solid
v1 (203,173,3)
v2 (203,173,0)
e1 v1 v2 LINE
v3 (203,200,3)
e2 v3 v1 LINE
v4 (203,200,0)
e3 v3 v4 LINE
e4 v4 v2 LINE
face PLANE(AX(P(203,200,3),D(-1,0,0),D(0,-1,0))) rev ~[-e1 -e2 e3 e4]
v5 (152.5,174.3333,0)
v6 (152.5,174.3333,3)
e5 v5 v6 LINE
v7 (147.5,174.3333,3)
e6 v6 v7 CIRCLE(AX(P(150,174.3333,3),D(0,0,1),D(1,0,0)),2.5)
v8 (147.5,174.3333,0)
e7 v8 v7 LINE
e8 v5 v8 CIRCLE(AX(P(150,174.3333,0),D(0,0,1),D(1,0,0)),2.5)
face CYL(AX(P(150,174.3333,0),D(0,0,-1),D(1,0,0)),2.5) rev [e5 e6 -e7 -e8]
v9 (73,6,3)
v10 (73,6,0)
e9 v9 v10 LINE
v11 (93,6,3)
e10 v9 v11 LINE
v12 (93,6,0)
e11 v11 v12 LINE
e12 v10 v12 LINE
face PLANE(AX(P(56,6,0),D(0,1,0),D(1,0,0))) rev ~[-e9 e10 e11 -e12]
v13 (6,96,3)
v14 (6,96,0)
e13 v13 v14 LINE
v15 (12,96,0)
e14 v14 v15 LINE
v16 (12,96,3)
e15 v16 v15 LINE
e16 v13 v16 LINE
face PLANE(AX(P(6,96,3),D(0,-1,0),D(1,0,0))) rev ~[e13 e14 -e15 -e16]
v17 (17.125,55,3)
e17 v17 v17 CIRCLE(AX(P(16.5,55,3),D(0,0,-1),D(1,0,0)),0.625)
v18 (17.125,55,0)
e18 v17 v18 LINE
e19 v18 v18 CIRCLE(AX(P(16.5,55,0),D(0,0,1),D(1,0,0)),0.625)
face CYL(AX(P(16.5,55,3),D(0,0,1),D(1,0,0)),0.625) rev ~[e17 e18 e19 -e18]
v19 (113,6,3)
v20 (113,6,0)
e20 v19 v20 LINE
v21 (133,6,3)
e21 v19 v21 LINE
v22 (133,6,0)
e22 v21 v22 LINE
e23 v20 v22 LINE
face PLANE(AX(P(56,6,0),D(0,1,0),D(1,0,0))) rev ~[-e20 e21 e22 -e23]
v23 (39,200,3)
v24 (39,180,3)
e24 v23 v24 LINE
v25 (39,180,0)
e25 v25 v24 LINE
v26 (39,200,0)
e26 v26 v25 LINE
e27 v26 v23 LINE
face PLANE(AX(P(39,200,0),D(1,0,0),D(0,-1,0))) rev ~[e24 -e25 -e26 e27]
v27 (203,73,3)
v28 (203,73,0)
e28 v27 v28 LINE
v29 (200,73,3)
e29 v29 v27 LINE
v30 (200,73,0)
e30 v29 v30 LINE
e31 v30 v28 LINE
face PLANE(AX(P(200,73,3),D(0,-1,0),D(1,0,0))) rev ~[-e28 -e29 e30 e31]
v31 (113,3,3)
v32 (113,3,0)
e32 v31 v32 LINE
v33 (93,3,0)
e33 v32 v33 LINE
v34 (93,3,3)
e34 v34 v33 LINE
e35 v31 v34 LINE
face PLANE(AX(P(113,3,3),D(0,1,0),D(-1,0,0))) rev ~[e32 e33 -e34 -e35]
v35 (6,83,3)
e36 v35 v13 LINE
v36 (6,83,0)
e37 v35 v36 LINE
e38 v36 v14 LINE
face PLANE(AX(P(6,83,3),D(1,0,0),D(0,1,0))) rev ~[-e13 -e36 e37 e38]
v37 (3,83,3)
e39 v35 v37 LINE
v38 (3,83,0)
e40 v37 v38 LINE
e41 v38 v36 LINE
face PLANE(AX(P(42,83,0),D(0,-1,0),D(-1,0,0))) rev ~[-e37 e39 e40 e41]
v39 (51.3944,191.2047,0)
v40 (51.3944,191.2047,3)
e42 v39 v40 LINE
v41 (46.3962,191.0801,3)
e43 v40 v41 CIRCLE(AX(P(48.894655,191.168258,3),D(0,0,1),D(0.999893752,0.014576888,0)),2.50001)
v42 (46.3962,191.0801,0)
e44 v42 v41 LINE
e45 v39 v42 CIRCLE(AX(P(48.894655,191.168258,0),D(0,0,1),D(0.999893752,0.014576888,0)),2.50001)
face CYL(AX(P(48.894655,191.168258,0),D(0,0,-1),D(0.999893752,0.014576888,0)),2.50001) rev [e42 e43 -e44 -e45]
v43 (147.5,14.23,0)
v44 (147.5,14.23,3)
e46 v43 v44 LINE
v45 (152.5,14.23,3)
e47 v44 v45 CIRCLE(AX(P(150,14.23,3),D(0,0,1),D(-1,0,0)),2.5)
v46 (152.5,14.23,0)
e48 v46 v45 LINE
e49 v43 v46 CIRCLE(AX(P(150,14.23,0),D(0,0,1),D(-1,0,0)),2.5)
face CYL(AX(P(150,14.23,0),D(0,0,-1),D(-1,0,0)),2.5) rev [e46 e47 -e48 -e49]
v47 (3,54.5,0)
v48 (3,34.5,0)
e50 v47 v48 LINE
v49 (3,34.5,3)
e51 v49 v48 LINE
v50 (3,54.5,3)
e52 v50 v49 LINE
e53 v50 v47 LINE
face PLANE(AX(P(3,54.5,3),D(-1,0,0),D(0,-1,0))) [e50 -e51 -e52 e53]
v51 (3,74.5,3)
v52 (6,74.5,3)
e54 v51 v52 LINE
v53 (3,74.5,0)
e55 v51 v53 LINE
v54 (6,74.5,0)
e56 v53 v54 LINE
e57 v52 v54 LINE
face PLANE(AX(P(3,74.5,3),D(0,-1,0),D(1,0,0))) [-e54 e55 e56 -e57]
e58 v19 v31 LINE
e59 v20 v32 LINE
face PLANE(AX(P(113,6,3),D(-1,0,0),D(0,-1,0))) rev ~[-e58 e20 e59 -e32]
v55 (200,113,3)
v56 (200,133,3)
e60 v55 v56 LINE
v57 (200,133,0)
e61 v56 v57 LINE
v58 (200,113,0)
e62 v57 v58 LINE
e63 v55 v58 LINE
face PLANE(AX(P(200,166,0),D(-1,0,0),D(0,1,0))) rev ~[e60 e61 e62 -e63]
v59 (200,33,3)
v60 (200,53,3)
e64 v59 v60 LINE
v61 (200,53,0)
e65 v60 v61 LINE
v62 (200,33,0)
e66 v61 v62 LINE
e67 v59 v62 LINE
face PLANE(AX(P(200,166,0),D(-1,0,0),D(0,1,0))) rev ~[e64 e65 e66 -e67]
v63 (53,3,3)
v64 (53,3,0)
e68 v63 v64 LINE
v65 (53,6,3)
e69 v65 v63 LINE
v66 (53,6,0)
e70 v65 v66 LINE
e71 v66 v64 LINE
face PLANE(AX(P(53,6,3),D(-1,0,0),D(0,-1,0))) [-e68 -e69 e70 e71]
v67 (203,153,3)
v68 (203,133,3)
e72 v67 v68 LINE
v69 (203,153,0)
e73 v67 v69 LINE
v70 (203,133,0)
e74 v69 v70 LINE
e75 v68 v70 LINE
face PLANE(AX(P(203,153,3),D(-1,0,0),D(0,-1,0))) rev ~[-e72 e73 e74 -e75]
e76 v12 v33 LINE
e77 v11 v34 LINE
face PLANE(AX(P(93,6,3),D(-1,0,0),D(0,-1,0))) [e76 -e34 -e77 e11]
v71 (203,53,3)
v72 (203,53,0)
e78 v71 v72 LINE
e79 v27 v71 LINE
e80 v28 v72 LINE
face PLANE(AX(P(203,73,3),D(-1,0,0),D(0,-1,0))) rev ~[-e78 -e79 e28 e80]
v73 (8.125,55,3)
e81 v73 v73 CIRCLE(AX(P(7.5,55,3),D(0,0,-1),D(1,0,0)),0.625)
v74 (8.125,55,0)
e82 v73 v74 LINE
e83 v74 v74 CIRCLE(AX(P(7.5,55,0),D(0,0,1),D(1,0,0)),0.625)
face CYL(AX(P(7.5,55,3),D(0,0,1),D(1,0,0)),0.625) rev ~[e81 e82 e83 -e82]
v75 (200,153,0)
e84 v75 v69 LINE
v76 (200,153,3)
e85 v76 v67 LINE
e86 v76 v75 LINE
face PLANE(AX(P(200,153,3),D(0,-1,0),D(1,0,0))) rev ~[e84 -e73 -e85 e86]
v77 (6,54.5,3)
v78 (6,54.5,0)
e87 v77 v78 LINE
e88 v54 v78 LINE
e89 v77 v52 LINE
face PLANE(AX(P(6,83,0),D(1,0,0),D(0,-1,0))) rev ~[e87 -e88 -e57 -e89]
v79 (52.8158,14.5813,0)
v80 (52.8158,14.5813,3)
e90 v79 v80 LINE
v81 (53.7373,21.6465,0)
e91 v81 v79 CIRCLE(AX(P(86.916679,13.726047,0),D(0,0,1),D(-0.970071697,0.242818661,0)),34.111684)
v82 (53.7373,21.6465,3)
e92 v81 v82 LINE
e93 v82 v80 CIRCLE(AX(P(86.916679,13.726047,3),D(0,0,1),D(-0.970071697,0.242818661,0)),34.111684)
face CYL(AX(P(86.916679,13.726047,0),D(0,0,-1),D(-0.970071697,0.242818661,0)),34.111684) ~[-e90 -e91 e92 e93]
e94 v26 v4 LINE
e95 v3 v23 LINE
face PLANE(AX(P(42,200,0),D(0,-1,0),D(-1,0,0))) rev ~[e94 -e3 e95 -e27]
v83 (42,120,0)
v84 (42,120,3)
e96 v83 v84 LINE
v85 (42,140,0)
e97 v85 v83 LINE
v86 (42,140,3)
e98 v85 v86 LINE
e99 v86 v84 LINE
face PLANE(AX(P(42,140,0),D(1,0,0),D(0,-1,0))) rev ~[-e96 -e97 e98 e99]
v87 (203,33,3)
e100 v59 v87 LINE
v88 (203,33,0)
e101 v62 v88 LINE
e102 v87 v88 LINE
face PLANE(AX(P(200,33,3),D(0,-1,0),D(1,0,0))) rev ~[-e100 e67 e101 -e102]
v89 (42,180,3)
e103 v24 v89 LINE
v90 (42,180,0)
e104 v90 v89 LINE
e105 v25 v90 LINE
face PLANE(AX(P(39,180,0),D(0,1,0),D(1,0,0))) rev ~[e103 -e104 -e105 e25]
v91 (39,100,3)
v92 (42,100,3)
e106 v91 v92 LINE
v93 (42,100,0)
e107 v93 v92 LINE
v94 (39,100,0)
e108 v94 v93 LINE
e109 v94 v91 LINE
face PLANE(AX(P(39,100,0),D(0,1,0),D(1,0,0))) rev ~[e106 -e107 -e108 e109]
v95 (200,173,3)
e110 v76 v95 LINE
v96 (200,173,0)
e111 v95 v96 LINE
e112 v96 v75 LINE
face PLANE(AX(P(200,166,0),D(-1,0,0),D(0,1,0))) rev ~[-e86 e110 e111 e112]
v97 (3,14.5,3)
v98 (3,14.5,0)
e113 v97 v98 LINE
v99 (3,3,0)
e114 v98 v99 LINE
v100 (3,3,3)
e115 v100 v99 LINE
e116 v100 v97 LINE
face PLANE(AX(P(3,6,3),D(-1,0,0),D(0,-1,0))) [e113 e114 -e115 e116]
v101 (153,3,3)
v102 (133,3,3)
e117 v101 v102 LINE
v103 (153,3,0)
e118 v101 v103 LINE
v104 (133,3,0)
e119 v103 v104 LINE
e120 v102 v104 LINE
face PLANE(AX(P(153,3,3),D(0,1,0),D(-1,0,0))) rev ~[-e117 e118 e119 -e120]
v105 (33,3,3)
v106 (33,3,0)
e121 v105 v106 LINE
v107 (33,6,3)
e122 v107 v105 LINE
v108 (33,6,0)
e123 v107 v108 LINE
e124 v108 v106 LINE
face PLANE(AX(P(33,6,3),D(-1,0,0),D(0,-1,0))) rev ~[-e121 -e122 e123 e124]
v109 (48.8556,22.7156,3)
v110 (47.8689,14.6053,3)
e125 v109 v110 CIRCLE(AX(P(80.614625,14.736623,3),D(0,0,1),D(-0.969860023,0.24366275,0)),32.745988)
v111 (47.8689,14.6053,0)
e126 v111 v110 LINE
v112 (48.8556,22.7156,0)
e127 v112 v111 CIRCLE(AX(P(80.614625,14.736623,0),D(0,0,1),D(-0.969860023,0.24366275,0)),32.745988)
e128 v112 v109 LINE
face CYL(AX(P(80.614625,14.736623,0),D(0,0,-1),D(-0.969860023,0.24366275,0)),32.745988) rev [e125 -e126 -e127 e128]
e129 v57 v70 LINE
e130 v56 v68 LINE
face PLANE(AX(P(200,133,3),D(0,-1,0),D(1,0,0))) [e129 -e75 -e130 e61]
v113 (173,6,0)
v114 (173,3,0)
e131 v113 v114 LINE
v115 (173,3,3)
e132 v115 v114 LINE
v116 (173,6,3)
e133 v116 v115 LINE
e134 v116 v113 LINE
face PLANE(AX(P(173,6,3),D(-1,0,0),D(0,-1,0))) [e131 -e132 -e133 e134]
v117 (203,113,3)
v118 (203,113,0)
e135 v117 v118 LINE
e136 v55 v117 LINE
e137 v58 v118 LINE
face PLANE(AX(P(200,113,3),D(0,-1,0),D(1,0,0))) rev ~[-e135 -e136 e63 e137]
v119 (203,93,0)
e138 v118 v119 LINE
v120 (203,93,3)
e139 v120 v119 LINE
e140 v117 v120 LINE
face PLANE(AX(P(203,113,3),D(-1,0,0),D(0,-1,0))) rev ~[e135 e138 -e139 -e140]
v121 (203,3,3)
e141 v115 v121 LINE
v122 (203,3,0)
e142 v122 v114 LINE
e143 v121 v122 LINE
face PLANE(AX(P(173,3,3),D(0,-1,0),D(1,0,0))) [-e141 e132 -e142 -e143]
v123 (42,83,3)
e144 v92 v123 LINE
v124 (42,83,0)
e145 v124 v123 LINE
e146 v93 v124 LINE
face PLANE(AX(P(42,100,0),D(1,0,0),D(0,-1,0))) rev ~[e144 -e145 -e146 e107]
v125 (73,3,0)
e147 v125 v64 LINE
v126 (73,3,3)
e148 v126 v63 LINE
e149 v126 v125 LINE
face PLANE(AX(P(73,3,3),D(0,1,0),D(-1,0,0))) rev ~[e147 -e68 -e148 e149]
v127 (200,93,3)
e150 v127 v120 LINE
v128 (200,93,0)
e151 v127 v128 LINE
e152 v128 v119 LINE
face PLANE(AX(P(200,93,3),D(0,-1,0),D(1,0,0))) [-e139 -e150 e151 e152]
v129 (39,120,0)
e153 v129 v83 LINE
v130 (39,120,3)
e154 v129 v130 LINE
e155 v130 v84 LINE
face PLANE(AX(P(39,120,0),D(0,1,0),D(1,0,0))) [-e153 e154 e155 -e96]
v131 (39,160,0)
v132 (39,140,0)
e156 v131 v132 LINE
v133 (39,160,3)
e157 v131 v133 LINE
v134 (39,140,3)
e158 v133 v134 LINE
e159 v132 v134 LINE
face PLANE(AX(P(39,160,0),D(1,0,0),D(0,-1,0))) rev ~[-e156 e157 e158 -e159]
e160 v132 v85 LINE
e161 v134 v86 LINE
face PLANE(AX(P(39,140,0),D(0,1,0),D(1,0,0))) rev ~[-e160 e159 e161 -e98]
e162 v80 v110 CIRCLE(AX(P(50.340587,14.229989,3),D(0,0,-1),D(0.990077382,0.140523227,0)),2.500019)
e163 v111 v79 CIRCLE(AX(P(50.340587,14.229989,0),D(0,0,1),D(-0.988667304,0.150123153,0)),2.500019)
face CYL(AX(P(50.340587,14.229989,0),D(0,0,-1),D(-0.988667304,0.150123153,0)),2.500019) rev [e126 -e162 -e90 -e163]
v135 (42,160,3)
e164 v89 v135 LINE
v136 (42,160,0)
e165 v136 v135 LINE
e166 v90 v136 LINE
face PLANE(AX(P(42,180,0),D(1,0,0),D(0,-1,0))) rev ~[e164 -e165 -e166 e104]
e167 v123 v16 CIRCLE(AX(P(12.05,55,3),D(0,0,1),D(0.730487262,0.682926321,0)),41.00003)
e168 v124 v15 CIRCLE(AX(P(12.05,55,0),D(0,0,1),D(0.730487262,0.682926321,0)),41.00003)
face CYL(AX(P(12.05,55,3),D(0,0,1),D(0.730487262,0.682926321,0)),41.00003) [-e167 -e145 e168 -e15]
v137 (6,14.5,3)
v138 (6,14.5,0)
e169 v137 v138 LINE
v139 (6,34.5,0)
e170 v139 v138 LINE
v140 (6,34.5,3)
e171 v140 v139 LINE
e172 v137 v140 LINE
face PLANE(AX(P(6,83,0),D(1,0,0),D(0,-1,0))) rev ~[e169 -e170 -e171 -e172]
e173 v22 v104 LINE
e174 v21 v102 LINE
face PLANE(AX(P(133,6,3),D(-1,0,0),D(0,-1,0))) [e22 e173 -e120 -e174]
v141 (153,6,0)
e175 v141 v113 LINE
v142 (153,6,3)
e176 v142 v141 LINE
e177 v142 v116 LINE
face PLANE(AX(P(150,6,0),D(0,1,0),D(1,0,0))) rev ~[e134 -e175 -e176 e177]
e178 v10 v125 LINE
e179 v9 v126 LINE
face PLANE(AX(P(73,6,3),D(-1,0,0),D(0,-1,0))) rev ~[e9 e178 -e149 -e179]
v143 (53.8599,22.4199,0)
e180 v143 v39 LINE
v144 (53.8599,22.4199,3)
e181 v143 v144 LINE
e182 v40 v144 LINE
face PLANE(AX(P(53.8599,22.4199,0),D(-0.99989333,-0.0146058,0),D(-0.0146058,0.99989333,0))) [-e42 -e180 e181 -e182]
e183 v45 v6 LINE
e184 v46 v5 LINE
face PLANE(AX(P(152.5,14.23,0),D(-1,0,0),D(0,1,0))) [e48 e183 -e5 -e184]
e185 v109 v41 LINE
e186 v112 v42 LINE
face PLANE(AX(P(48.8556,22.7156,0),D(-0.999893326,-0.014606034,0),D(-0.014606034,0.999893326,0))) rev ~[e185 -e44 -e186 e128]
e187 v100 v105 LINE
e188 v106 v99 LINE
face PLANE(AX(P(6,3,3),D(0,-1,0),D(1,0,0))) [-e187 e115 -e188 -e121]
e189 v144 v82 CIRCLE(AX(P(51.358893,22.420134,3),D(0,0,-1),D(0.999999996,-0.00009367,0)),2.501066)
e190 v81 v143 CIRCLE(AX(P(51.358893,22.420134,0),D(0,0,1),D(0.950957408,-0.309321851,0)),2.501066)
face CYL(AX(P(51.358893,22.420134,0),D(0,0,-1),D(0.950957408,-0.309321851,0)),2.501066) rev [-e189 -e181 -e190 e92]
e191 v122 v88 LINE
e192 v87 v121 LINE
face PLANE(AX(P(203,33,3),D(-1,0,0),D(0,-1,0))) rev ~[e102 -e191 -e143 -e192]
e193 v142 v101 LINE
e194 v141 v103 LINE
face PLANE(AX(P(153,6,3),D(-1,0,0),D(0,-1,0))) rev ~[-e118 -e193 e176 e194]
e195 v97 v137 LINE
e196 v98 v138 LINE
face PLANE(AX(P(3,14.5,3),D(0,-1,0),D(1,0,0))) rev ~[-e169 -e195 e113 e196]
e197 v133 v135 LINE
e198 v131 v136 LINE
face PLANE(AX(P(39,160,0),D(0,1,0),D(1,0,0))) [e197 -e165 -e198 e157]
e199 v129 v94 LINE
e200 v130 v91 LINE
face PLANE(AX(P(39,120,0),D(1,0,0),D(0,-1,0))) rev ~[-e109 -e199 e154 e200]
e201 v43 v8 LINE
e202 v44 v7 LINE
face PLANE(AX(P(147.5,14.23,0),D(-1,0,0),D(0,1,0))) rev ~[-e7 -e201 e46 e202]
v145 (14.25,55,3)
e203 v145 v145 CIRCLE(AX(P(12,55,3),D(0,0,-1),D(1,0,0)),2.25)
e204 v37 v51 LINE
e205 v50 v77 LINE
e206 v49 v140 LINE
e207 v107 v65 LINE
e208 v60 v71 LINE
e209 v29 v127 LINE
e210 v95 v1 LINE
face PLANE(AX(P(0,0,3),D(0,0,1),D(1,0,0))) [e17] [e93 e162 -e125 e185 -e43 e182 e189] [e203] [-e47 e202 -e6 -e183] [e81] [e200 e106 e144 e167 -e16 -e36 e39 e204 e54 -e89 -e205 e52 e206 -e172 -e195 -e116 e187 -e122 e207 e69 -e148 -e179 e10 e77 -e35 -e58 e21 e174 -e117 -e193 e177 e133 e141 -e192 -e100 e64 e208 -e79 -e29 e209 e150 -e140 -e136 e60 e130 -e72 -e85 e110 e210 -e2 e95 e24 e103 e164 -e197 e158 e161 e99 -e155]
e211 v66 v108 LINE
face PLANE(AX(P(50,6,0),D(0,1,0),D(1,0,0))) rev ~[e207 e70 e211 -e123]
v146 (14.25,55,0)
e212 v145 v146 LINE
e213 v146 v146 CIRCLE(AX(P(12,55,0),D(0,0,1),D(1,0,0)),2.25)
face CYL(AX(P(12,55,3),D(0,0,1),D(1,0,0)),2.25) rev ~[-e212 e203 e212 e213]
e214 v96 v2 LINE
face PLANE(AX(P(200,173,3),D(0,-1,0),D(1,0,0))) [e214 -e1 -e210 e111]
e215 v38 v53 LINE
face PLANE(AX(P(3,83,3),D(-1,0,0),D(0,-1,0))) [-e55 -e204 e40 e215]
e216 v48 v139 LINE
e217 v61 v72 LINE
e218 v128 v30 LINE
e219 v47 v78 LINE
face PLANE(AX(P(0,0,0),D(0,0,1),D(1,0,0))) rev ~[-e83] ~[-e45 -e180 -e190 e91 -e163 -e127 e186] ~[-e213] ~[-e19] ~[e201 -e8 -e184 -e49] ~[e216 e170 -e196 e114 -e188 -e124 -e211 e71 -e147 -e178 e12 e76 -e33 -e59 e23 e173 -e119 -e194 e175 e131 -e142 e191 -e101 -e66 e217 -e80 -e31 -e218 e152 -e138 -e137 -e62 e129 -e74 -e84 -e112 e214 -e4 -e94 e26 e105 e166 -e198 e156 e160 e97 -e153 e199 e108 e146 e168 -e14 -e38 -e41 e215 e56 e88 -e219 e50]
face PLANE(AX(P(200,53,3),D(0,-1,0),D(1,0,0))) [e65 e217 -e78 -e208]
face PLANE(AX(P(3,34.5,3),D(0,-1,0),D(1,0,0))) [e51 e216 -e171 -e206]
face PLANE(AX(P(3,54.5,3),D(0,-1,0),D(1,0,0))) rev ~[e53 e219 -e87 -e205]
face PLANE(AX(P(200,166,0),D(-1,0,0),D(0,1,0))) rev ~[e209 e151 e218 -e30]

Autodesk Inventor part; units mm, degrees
ref_plane "YZ Plane" through (0, 0, 0) normal (1, 0, 0) x (0, 1, 0)
ref_plane "XZ Plane" through (0, 0, 0) normal (0, 1, 0) x (-1, 0, 0)
ref_plane "XY Plane" through (0, 0, 0) normal (0, 0, 1) x (1, 0, 0)
sketch "Sketch1" plane through (0, 0, 0) normal (0, 0, 1) x (1, 0, 0)
  line L0 (6, 6) -> (200, 6)
  line L1 (200, 6) -> (200, 200)
  line L2 (200, 200) -> (42, 200)
  line L3 (6, 83) -> (6, 6)
  line L4 (6, 6) -> (56, 6)
  line L5 (200, 6) -> (150, 6)
  line L6 (200, 6) -> (200, 153)
  line L7 (150, 6) -> (142.5, 6)
  line L8 (200, 6) -> (200, 166)
  arc A0 (152.5, 174.3333) -> (147.5, 174.3333) centre (150, 174.3333) ccw
  line L9 (150, 6) -> (50, 6)
  arc A1 (47.8689, 14.6053) -> (52.8158, 14.5813) centre (50.3406, 14.23) ccw
  arc A2 (53.8259, 22.009) -> (52.8051, 13.8106) centre (86.918, 13.7258) ccw
  arc A3 (51.3944, 191.2047) -> (46.3962, 191.0801) centre (48.8946, 191.1682) ccw
  line L10 (53.8599, 22.4199) -> (51.3944, 191.2047)
  line L11 (48.8556, 22.7156) -> (46.3962, 191.0801)
  arc A4 (53.7373, 21.6465) -> (53.8589, 22.4929) centre (51.3599, 22.4199) ccw
  arc A5 (48.8556, 22.7156) -> (47.8689, 14.6053) centre (80.6169, 14.7362) ccw
  line L12 (52.8406, 14.23) -> (52.8088, 14.23)
  arc A6 (147.5, 14.23) -> (152.5, 14.23) centre (150, 14.23) ccw
  line L13 (147.5, 14.23) -> (147.5, 174.3333)
  line L14 (152.5, 14.23) -> (152.5, 174.3333)
  line L15 (42, 83) -> (6, 83)
  line L16 (42, 200) -> (39, 200)
  line L17 (39, 200) -> (39, 180)
  line L18 (39, 160) -> (39, 140)
  line L19 (39, 120) -> (39, 100)
  line L20 (39, 100) -> (42, 100)
  line L21 (39, 120) -> (42, 120)
  line L22 (39, 140) -> (42, 140)
  line L23 (39, 160) -> (42, 160)
  line L24 (39, 180) -> (42, 180)
  line L25 (39, 120) -> (39, 100)
  line L26 (39, 200) -> (39, 180)
  line L27 (39, 160) -> (39, 140)
  line L28 (42, 180) -> (42, 160)
  line L29 (42, 140) -> (42, 120)
  line L30 (42, 100) -> (42, 83)
  dimension "d1" = 194
extrude "Extrusion1" add sketch "Sketch1" along normal blind 3
sketch "Sketch2" plane through (0, 0, 3) normal (0, 0, 1) x (1, 0, 0)
  line L0 (200, 6) -> (200, 200) projected
  line L1 (200, 200) -> (39, 200) projected
  line L2 (42, 180) -> (42, 160) projected
  line L3 (42, 83) -> (6, 83) projected
  line L4 (6, 83) -> (6, 6) projected
  line L5 (6, 6) -> (200, 6) projected
  line L6 (147.5, 14.23) -> (147.5, 174.3333) projected
  arc A0 (152.5, 174.3333) -> (147.5, 174.3333) centre (150, 174.3333) ccw projected
  line L7 (152.5, 174.3333) -> (152.5, 14.23) projected
  arc A1 (147.5, 14.23) -> (152.5, 14.23) centre (150, 14.23) ccw projected
  arc A2 (51.3944, 191.2047) -> (46.3962, 191.0801) centre (48.8946, 191.1682) ccw projected
  line L8 (51.3944, 191.2047) -> (53.8589, 22.4929) projected
  arc A3 (53.7373, 21.6465) -> (53.8589, 22.4929) centre (51.3599, 22.4199) ccw projected
  arc A4 (53.7373, 21.6465) -> (52.8158, 14.5813) centre (86.918, 13.7258) ccw projected
  arc A5 (47.8689, 14.6053) -> (52.8158, 14.5813) centre (50.3406, 14.23) ccw projected
  arc A6 (48.8556, 22.7156) -> (47.8689, 14.6053) centre (80.6169, 14.7362) ccw projected
  line L9 (48.8556, 22.7156) -> (46.3962, 191.0801) projected
  line L10 (6, 6) -> (33, 6)
  line L11 (33, 6) -> (53, 6)
  line L12 (53, 6) -> (73, 6)
  line L13 (73, 6) -> (93, 6)
  line L14 (93, 6) -> (113, 6)
  line L15 (113, 6) -> (133, 6)
  line L16 (133, 6) -> (153, 6)
  line L17 (153, 6) -> (173, 6)
  line L18 (6, 6) -> (6, 9)
  line L19 (33, 6) -> (33, 3)
  line L20 (173, 6) -> (173, 3)
  line L21 (53, 6) -> (53, 3)
  line L22 (93, 6) -> (93, 3)
  line L23 (73, 6) -> (73, 3)
  line L24 (133, 6) -> (133, 3)
  line L25 (113, 6) -> (113, 3)
  line L26 (153, 6) -> (153, 3)
  line L27 (6, 6) -> (6, 3)
  line L28 (6, 3) -> (33, 3)
  line L29 (173, 3) -> (200, 3)
  line L30 (200, 3) -> (200, 6.6126)
  line L31 (73, 3) -> (53, 3)
  line L32 (153, 3) -> (133, 3)
  line L33 (113, 3) -> (93, 3)
  line L34 (39, 200) -> (39, 180) projected
  line L35 (39, 180) -> (42, 180) projected
  line L36 (42, 160) -> (39, 160) projected
  line L37 (39, 160) -> (39, 140) projected
  line L38 (39, 140) -> (42, 140) projected
  line L39 (42, 140) -> (42, 120) projected
  line L40 (42, 120) -> (39, 120) projected
  line L41 (39, 120) -> (39, 100) projected
  line L42 (39, 100) -> (42, 100) projected
  line L43 (42, 100) -> (42, 83) projected
  point P0 (120.702, 9)
  point P1 (49.056, 9)
extrude "Extrusion2" add sketch "Sketch2" against normal blind 3 contours L30 L29 L20 L5 | L26 L32 L24 L5 | L25 L33 L22 L5 | L23 L31 L21 L5 | L19 L28 L27 L5
sketch "Sketch3" plane through (0, 0, 3) normal (0, 0, 1) x (1, 0, 0)
  line L0 (153, 6) -> (173, 6) projected
  line L1 (113, 6) -> (133, 6) projected
  line L2 (200, 3) -> (200, 200) projected
  line L3 (200, 200) -> (39, 200) projected
  line L4 (42, 180) -> (42, 160) projected
  line L5 (42, 83) -> (6, 83) projected
  line L6 (6, 83) -> (6, 3) projected
  line L7 (73, 6) -> (93, 6) projected
  line L8 (33, 6) -> (53, 6) projected
  line L9 (147.5, 14.23) -> (147.5, 174.3333) projected
  arc A0 (152.5, 174.3333) -> (147.5, 174.3333) centre (150, 174.3333) ccw projected
  line L10 (152.5, 174.3333) -> (152.5, 14.23) projected
  arc A1 (147.5, 14.23) -> (152.5, 14.23) centre (150, 14.23) ccw projected
  arc A2 (51.3944, 191.2047) -> (46.3962, 191.0801) centre (48.8946, 191.1682) ccw projected
  line L11 (51.3944, 191.2047) -> (53.8589, 22.4929) projected
  arc A3 (53.7373, 21.6465) -> (53.8589, 22.4929) centre (51.3599, 22.4199) ccw projected
  arc A4 (53.7373, 21.6465) -> (52.8158, 14.5813) centre (86.918, 13.7258) ccw projected
  arc A5 (47.8689, 14.6053) -> (52.8158, 14.5813) centre (50.3406, 14.23) ccw projected
  arc A6 (48.8556, 22.7156) -> (47.8689, 14.6053) centre (80.6169, 14.7362) ccw projected
  line L12 (48.8556, 22.7156) -> (46.3962, 191.0801) projected
  line L13 (6, 83) -> (6, 80)
  line L14 (6, 83) -> (3, 83)
  line L15 (3, 6) -> (3, 14.5)
  line L16 (3, 83) -> (3, 74.5)
  line L17 (3, 54.5) -> (3, 34.5)
  line L18 (3, 74.5) -> (6, 74.5)
  line L19 (3, 54.5) -> (6, 54.5)
  line L20 (3, 34.5) -> (6, 34.5)
  line L21 (3, 14.5) -> (6, 14.5)
  line L22 (3, 14.5) -> (3, 6)
  line L23 (3, 83) -> (3, 74.5)
  line L24 (3, 54.5) -> (3, 34.5)
  line L25 (3, 6) -> (3, 3)
  line L26 (3, 3) -> (6, 3)
  line L27 (6, 3) -> (6, 6)
  line L28 (6, 3) -> (33, 3) projected
  line L29 (33, 3) -> (33, 6) projected
  line L30 (53, 6) -> (53, 3) projected
  line L31 (53, 3) -> (73, 3) projected
  line L32 (73, 3) -> (73, 6) projected
  line L33 (93, 6) -> (93, 3) projected
  line L34 (93, 3) -> (113, 3) projected
  line L35 (113, 3) -> (113, 6) projected
  line L36 (133, 6) -> (133, 3) projected
  line L37 (133, 3) -> (153, 3) projected
  line L38 (153, 3) -> (153, 6) projected
  line L39 (173, 6) -> (173, 3) projected
  line L40 (173, 3) -> (200, 3) projected
  line L41 (39, 200) -> (39, 180) projected
  line L42 (39, 180) -> (42, 180) projected
  line L43 (42, 160) -> (39, 160) projected
  line L44 (39, 160) -> (39, 140) projected
  line L45 (39, 140) -> (42, 140) projected
  line L46 (42, 140) -> (42, 120) projected
  line L47 (42, 120) -> (39, 120) projected
  line L48 (39, 120) -> (39, 100) projected
  line L49 (39, 100) -> (42, 100) projected
  line L50 (42, 100) -> (42, 83) projected
  point P0 (6, 3)
  dimension "d43" = 3
extrude "Extrusion3" add sketch "Sketch3" against normal blind 3 contours L26 L25 L15 L21 L6 | L6 L18 L16 L14 | L20 L17 L19 L6
sketch "Sketch4" plane through (0, 0, 3) normal (0, 0, 1) x (1, 0, 0)
  line L0 (153, 6) -> (173, 6) projected
  line L1 (113, 6) -> (133, 6) projected
  line L2 (200, 200) -> (39, 200) projected
  line L3 (42, 180) -> (42, 160) projected
  line L4 (42, 83) -> (3, 83) projected
  line L5 (3, 83) -> (3, 74.5) projected
  line L6 (3, 74.5) -> (6, 74.5) projected
  line L7 (6, 74.5) -> (6, 54.5) projected
  line L8 (6, 54.5) -> (3, 54.5) projected
  line L9 (3, 54.5) -> (3, 34.5) projected
  line L10 (3, 34.5) -> (6, 34.5) projected
  line L11 (73, 6) -> (93, 6) projected
  line L12 (33, 6) -> (53, 6) projected
  line L13 (147.5, 14.23) -> (147.5, 174.3333) projected
  arc A0 (152.5, 174.3333) -> (147.5, 174.3333) centre (150, 174.3333) ccw projected
  line L14 (152.5, 174.3333) -> (152.5, 14.23) projected
  arc A1 (147.5, 14.23) -> (152.5, 14.23) centre (150, 14.23) ccw projected
  arc A2 (51.3944, 191.2047) -> (46.3962, 191.0801) centre (48.8946, 191.1682) ccw projected
  line L15 (51.3944, 191.2047) -> (53.8589, 22.4929) projected
  arc A3 (53.7373, 21.6465) -> (53.8589, 22.4929) centre (51.3599, 22.4199) ccw projected
  arc A4 (53.7373, 21.6465) -> (52.8158, 14.5813) centre (86.918, 13.7258) ccw projected
  arc A5 (47.8689, 14.6053) -> (52.8158, 14.5813) centre (50.3406, 14.23) ccw projected
  arc A6 (48.8556, 22.7156) -> (47.8689, 14.6053) centre (80.6169, 14.7362) ccw projected
  line L16 (48.8556, 22.7156) -> (46.3962, 191.0801) projected
  line L17 (200, 200) -> (203, 200)
  line L18 (200, 6) -> (200, 33)
  line L19 (200, 33) -> (200, 53)
  line L20 (200, 53) -> (200, 73)
  line L21 (200, 73) -> (200, 93)
  line L22 (200, 93) -> (200, 113)
  line L23 (200, 113) -> (200, 133)
  line L24 (200, 133) -> (200, 153)
  line L25 (200, 153) -> (200, 173)
  line L26 (200, 173) -> (200, 200)
  line L27 (200, 173) -> (203, 173)
  line L28 (200, 153) -> (203, 153)
  line L29 (200, 133) -> (203, 133)
  line L30 (200, 113) -> (203, 113)
  line L31 (200, 93) -> (203, 93)
  line L32 (200, 73) -> (203, 73)
  line L33 (200, 53) -> (203, 53)
  line L34 (200, 33) -> (203, 33)
  line L35 (203, 200) -> (203, 173)
  line L36 (203, 153) -> (203, 133)
  line L37 (203, 113) -> (203, 93)
  line L38 (203, 73) -> (203, 53)
  line L39 (203, 33) -> (203, 6)
  line L40 (200, 3) -> (200, 200) projected
  line L41 (6, 34.5) -> (6, 14.5) projected
  line L42 (3, 3) -> (33, 3) projected
  line L43 (33, 3) -> (33, 6) projected
  line L44 (53, 6) -> (53, 3) projected
  line L45 (53, 3) -> (73, 3) projected
  line L46 (73, 3) -> (73, 6) projected
  line L47 (93, 6) -> (93, 3) projected
  line L48 (93, 3) -> (113, 3) projected
  line L49 (113, 3) -> (113, 6) projected
  line L50 (133, 6) -> (133, 3) projected
  line L51 (133, 3) -> (153, 3) projected
  line L52 (153, 3) -> (153, 6) projected
  line L53 (173, 6) -> (173, 3) projected
  line L54 (173, 3) -> (200, 3) projected
  line L55 (6, 14.5) -> (3, 14.5) projected
  line L56 (3, 14.5) -> (3, 3) projected
  line L57 (200, 3) -> (203, 3)
  line L58 (203, 3) -> (203, 6)
  line L59 (39, 200) -> (39, 180) projected
  line L60 (39, 180) -> (42, 180) projected
  line L61 (42, 160) -> (39, 160) projected
  line L62 (39, 160) -> (39, 140) projected
  line L63 (39, 140) -> (42, 140) projected
  line L64 (42, 140) -> (42, 120) projected
  line L65 (42, 120) -> (39, 120) projected
  line L66 (39, 120) -> (39, 100) projected
  line L67 (39, 100) -> (42, 100) projected
  line L68 (42, 100) -> (42, 83) projected
extrude "Extrusion4" add sketch "Sketch4" against normal blind 3 contours L40 L18 L34 L39 L58 L57 | L20 L32 L38 L33 | L22 L30 L37 L31 | L24 L28 L36 L29 | L26 L17 L35 L27
sketch "Sketch7" plane through (0, 0, 3) normal (0, 0, 1) x (1, 0, 0)
  line L0 (6, 60) -> (18, 60)
  line L1 (18, 60) -> (18, 50)
  line L2 (18, 50) -> (6, 50)
  line L3 (6, 50) -> (6, 60)
  line L4 (6, 60) -> (18, 50) construction
  line L5 (18, 60) -> (6, 50) construction
  line L6 (12, 55) -> (7.5, 55)
  line L7 (7.5, 55) -> (16.5, 55)
  circle A0 centre (7.5, 55) radius 0.625
  circle A1 centre (16.5, 55) radius 0.625
  line L8 (6.875, 55) -> (12, 55)
  circle A2 centre (12, 55) radius 2.25
  dimension "d74" = 1.25
  dimension "d70" = 12
  dimension "d71" = 10
  dimension "d72" = 4.5
  dimension "d73" = 9
  dimension "d75" = 1.25
  dimension "d78" = 4.5
extrude "Extrusion5" cut sketch "Sketch7" against normal blind 3 contours A0 L8 L6 | A1 | A2 L7 L6 | L6 L7 A2 | L6 L8 A0
sketch "Sketch8" plane through (0, 0, 3) normal (0, 0, 1) x (1, 0, 0)
  circle A0 centre (12, 55) radius 2.25 projected
  line L0 (12, 55) -> (12, 96)
  circle A1 centre (16.5, 55) radius 0.625 projected
  circle A2 centre (7.5, 55) radius 0.625 projected
  circle A3 centre (12, 55) radius 2.25 projected
  line L1 (200, 33) -> (200, 53) projected
  line L2 (200, 53) -> (203, 53) projected
  line L3 (203, 53) -> (203, 73) projected
  line L4 (203, 73) -> (200, 73) projected
  line L5 (200, 73) -> (200, 93) projected
  line L6 (200, 93) -> (203, 93) projected
  line L7 (203, 93) -> (203, 113) projected
  line L8 (203, 113) -> (200, 113) projected
  line L9 (200, 113) -> (200, 133) projected
  line L10 (200, 133) -> (203, 133) projected
  line L11 (203, 133) -> (203, 153) projected
  line L12 (203, 153) -> (200, 153) projected
  line L13 (200, 153) -> (200, 173) projected
  line L14 (200, 173) -> (203, 173) projected
  line L15 (203, 173) -> (203, 200) projected
  line L16 (203, 200) -> (39, 200) projected
  line L17 (42, 180) -> (42, 160) projected
  line L18 (42, 83) -> (3, 83) projected
  line L19 (3, 83) -> (3, 74.5) projected
  line L20 (3, 74.5) -> (6, 74.5) projected
  line L21 (6, 74.5) -> (6, 54.5) projected
  line L22 (6, 54.5) -> (3, 54.5) projected
  line L23 (3, 54.5) -> (3, 34.5) projected
  line L24 (3, 34.5) -> (6, 34.5) projected
  line L25 (6, 34.5) -> (6, 14.5) projected
  line L26 (6, 14.5) -> (3, 14.5) projected
  line L27 (3, 14.5) -> (3, 3) projected
  line L28 (3, 3) -> (33, 3) projected
  line L29 (33, 3) -> (33, 6) projected
  line L30 (33, 6) -> (53, 6) projected
  line L31 (53, 6) -> (53, 3) projected
  line L32 (53, 3) -> (73, 3) projected
  line L33 (73, 3) -> (73, 6) projected
  line L34 (73, 6) -> (93, 6) projected
  line L35 (93, 6) -> (93, 3) projected
  line L36 (93, 3) -> (113, 3) projected
  line L37 (113, 3) -> (113, 6) projected
  line L38 (113, 6) -> (133, 6) projected
  line L39 (133, 6) -> (133, 3) projected
  line L40 (133, 3) -> (153, 3) projected
  line L41 (153, 3) -> (153, 6) projected
  line L42 (153, 6) -> (173, 6) projected
  line L43 (173, 6) -> (173, 3) projected
  line L44 (173, 3) -> (203, 3) projected
  line L45 (203, 3) -> (203, 33) projected
  line L46 (203, 33) -> (200, 33) projected
  line L47 (147.5, 14.23) -> (147.5, 174.3333) projected
  arc A4 (152.5, 174.3333) -> (147.5, 174.3333) centre (150, 174.3333) ccw projected
  line L48 (152.5, 174.3333) -> (152.5, 14.23) projected
  arc A5 (147.5, 14.23) -> (152.5, 14.23) centre (150, 14.23) ccw projected
  arc A6 (51.3944, 191.2047) -> (46.3962, 191.0801) centre (48.8946, 191.1682) ccw projected
  line L49 (51.3944, 191.2047) -> (53.8589, 22.4929) projected
  arc A7 (53.7373, 21.6465) -> (53.8589, 22.4929) centre (51.3599, 22.4199) ccw projected
  arc A8 (53.7373, 21.6465) -> (52.8158, 14.5813) centre (86.918, 13.7258) ccw projected
  arc A9 (47.8689, 14.6053) -> (52.8158, 14.5813) centre (50.3406, 14.23) ccw projected
  arc A10 (48.8556, 22.7156) -> (47.8689, 14.6053) centre (80.6169, 14.7362) ccw projected
  line L50 (48.8556, 22.7156) -> (46.3962, 191.0801) projected
  line L51 (42, 83) -> (3, 83) projected
  line L52 (12, 55) -> (42, 83)
  arc A11 (42, 83) -> (12, 96) centre (12.05, 55) ccw
  line L53 (3, 83) -> (6, 83)
  line L54 (6, 83) -> (6, 96)
  line L55 (6, 96) -> (12, 96)
  line L56 (6, 83) -> (42, 83)
  line L57 (39, 200) -> (39, 180) projected
  line L58 (39, 180) -> (42, 180) projected
  line L59 (42, 160) -> (39, 160) projected
  line L60 (39, 160) -> (39, 140) projected
  line L61 (39, 140) -> (42, 140) projected
  line L62 (42, 140) -> (42, 120) projected
  line L63 (42, 120) -> (39, 120) projected
  line L64 (39, 120) -> (39, 100) projected
  line L65 (39, 100) -> (42, 100) projected
  line L66 (42, 100) -> (42, 83) projected
  dimension "d79" = 41
  dimension "d80" = 41
  dimension "d81" = 3
  dimension "d82" = 13
extrude "Extrusion6" add sketch "Sketch8" against normal blind 3 contours L18 L0 A11 | L18 L54 L55 L0
properties part number "inside walls"
